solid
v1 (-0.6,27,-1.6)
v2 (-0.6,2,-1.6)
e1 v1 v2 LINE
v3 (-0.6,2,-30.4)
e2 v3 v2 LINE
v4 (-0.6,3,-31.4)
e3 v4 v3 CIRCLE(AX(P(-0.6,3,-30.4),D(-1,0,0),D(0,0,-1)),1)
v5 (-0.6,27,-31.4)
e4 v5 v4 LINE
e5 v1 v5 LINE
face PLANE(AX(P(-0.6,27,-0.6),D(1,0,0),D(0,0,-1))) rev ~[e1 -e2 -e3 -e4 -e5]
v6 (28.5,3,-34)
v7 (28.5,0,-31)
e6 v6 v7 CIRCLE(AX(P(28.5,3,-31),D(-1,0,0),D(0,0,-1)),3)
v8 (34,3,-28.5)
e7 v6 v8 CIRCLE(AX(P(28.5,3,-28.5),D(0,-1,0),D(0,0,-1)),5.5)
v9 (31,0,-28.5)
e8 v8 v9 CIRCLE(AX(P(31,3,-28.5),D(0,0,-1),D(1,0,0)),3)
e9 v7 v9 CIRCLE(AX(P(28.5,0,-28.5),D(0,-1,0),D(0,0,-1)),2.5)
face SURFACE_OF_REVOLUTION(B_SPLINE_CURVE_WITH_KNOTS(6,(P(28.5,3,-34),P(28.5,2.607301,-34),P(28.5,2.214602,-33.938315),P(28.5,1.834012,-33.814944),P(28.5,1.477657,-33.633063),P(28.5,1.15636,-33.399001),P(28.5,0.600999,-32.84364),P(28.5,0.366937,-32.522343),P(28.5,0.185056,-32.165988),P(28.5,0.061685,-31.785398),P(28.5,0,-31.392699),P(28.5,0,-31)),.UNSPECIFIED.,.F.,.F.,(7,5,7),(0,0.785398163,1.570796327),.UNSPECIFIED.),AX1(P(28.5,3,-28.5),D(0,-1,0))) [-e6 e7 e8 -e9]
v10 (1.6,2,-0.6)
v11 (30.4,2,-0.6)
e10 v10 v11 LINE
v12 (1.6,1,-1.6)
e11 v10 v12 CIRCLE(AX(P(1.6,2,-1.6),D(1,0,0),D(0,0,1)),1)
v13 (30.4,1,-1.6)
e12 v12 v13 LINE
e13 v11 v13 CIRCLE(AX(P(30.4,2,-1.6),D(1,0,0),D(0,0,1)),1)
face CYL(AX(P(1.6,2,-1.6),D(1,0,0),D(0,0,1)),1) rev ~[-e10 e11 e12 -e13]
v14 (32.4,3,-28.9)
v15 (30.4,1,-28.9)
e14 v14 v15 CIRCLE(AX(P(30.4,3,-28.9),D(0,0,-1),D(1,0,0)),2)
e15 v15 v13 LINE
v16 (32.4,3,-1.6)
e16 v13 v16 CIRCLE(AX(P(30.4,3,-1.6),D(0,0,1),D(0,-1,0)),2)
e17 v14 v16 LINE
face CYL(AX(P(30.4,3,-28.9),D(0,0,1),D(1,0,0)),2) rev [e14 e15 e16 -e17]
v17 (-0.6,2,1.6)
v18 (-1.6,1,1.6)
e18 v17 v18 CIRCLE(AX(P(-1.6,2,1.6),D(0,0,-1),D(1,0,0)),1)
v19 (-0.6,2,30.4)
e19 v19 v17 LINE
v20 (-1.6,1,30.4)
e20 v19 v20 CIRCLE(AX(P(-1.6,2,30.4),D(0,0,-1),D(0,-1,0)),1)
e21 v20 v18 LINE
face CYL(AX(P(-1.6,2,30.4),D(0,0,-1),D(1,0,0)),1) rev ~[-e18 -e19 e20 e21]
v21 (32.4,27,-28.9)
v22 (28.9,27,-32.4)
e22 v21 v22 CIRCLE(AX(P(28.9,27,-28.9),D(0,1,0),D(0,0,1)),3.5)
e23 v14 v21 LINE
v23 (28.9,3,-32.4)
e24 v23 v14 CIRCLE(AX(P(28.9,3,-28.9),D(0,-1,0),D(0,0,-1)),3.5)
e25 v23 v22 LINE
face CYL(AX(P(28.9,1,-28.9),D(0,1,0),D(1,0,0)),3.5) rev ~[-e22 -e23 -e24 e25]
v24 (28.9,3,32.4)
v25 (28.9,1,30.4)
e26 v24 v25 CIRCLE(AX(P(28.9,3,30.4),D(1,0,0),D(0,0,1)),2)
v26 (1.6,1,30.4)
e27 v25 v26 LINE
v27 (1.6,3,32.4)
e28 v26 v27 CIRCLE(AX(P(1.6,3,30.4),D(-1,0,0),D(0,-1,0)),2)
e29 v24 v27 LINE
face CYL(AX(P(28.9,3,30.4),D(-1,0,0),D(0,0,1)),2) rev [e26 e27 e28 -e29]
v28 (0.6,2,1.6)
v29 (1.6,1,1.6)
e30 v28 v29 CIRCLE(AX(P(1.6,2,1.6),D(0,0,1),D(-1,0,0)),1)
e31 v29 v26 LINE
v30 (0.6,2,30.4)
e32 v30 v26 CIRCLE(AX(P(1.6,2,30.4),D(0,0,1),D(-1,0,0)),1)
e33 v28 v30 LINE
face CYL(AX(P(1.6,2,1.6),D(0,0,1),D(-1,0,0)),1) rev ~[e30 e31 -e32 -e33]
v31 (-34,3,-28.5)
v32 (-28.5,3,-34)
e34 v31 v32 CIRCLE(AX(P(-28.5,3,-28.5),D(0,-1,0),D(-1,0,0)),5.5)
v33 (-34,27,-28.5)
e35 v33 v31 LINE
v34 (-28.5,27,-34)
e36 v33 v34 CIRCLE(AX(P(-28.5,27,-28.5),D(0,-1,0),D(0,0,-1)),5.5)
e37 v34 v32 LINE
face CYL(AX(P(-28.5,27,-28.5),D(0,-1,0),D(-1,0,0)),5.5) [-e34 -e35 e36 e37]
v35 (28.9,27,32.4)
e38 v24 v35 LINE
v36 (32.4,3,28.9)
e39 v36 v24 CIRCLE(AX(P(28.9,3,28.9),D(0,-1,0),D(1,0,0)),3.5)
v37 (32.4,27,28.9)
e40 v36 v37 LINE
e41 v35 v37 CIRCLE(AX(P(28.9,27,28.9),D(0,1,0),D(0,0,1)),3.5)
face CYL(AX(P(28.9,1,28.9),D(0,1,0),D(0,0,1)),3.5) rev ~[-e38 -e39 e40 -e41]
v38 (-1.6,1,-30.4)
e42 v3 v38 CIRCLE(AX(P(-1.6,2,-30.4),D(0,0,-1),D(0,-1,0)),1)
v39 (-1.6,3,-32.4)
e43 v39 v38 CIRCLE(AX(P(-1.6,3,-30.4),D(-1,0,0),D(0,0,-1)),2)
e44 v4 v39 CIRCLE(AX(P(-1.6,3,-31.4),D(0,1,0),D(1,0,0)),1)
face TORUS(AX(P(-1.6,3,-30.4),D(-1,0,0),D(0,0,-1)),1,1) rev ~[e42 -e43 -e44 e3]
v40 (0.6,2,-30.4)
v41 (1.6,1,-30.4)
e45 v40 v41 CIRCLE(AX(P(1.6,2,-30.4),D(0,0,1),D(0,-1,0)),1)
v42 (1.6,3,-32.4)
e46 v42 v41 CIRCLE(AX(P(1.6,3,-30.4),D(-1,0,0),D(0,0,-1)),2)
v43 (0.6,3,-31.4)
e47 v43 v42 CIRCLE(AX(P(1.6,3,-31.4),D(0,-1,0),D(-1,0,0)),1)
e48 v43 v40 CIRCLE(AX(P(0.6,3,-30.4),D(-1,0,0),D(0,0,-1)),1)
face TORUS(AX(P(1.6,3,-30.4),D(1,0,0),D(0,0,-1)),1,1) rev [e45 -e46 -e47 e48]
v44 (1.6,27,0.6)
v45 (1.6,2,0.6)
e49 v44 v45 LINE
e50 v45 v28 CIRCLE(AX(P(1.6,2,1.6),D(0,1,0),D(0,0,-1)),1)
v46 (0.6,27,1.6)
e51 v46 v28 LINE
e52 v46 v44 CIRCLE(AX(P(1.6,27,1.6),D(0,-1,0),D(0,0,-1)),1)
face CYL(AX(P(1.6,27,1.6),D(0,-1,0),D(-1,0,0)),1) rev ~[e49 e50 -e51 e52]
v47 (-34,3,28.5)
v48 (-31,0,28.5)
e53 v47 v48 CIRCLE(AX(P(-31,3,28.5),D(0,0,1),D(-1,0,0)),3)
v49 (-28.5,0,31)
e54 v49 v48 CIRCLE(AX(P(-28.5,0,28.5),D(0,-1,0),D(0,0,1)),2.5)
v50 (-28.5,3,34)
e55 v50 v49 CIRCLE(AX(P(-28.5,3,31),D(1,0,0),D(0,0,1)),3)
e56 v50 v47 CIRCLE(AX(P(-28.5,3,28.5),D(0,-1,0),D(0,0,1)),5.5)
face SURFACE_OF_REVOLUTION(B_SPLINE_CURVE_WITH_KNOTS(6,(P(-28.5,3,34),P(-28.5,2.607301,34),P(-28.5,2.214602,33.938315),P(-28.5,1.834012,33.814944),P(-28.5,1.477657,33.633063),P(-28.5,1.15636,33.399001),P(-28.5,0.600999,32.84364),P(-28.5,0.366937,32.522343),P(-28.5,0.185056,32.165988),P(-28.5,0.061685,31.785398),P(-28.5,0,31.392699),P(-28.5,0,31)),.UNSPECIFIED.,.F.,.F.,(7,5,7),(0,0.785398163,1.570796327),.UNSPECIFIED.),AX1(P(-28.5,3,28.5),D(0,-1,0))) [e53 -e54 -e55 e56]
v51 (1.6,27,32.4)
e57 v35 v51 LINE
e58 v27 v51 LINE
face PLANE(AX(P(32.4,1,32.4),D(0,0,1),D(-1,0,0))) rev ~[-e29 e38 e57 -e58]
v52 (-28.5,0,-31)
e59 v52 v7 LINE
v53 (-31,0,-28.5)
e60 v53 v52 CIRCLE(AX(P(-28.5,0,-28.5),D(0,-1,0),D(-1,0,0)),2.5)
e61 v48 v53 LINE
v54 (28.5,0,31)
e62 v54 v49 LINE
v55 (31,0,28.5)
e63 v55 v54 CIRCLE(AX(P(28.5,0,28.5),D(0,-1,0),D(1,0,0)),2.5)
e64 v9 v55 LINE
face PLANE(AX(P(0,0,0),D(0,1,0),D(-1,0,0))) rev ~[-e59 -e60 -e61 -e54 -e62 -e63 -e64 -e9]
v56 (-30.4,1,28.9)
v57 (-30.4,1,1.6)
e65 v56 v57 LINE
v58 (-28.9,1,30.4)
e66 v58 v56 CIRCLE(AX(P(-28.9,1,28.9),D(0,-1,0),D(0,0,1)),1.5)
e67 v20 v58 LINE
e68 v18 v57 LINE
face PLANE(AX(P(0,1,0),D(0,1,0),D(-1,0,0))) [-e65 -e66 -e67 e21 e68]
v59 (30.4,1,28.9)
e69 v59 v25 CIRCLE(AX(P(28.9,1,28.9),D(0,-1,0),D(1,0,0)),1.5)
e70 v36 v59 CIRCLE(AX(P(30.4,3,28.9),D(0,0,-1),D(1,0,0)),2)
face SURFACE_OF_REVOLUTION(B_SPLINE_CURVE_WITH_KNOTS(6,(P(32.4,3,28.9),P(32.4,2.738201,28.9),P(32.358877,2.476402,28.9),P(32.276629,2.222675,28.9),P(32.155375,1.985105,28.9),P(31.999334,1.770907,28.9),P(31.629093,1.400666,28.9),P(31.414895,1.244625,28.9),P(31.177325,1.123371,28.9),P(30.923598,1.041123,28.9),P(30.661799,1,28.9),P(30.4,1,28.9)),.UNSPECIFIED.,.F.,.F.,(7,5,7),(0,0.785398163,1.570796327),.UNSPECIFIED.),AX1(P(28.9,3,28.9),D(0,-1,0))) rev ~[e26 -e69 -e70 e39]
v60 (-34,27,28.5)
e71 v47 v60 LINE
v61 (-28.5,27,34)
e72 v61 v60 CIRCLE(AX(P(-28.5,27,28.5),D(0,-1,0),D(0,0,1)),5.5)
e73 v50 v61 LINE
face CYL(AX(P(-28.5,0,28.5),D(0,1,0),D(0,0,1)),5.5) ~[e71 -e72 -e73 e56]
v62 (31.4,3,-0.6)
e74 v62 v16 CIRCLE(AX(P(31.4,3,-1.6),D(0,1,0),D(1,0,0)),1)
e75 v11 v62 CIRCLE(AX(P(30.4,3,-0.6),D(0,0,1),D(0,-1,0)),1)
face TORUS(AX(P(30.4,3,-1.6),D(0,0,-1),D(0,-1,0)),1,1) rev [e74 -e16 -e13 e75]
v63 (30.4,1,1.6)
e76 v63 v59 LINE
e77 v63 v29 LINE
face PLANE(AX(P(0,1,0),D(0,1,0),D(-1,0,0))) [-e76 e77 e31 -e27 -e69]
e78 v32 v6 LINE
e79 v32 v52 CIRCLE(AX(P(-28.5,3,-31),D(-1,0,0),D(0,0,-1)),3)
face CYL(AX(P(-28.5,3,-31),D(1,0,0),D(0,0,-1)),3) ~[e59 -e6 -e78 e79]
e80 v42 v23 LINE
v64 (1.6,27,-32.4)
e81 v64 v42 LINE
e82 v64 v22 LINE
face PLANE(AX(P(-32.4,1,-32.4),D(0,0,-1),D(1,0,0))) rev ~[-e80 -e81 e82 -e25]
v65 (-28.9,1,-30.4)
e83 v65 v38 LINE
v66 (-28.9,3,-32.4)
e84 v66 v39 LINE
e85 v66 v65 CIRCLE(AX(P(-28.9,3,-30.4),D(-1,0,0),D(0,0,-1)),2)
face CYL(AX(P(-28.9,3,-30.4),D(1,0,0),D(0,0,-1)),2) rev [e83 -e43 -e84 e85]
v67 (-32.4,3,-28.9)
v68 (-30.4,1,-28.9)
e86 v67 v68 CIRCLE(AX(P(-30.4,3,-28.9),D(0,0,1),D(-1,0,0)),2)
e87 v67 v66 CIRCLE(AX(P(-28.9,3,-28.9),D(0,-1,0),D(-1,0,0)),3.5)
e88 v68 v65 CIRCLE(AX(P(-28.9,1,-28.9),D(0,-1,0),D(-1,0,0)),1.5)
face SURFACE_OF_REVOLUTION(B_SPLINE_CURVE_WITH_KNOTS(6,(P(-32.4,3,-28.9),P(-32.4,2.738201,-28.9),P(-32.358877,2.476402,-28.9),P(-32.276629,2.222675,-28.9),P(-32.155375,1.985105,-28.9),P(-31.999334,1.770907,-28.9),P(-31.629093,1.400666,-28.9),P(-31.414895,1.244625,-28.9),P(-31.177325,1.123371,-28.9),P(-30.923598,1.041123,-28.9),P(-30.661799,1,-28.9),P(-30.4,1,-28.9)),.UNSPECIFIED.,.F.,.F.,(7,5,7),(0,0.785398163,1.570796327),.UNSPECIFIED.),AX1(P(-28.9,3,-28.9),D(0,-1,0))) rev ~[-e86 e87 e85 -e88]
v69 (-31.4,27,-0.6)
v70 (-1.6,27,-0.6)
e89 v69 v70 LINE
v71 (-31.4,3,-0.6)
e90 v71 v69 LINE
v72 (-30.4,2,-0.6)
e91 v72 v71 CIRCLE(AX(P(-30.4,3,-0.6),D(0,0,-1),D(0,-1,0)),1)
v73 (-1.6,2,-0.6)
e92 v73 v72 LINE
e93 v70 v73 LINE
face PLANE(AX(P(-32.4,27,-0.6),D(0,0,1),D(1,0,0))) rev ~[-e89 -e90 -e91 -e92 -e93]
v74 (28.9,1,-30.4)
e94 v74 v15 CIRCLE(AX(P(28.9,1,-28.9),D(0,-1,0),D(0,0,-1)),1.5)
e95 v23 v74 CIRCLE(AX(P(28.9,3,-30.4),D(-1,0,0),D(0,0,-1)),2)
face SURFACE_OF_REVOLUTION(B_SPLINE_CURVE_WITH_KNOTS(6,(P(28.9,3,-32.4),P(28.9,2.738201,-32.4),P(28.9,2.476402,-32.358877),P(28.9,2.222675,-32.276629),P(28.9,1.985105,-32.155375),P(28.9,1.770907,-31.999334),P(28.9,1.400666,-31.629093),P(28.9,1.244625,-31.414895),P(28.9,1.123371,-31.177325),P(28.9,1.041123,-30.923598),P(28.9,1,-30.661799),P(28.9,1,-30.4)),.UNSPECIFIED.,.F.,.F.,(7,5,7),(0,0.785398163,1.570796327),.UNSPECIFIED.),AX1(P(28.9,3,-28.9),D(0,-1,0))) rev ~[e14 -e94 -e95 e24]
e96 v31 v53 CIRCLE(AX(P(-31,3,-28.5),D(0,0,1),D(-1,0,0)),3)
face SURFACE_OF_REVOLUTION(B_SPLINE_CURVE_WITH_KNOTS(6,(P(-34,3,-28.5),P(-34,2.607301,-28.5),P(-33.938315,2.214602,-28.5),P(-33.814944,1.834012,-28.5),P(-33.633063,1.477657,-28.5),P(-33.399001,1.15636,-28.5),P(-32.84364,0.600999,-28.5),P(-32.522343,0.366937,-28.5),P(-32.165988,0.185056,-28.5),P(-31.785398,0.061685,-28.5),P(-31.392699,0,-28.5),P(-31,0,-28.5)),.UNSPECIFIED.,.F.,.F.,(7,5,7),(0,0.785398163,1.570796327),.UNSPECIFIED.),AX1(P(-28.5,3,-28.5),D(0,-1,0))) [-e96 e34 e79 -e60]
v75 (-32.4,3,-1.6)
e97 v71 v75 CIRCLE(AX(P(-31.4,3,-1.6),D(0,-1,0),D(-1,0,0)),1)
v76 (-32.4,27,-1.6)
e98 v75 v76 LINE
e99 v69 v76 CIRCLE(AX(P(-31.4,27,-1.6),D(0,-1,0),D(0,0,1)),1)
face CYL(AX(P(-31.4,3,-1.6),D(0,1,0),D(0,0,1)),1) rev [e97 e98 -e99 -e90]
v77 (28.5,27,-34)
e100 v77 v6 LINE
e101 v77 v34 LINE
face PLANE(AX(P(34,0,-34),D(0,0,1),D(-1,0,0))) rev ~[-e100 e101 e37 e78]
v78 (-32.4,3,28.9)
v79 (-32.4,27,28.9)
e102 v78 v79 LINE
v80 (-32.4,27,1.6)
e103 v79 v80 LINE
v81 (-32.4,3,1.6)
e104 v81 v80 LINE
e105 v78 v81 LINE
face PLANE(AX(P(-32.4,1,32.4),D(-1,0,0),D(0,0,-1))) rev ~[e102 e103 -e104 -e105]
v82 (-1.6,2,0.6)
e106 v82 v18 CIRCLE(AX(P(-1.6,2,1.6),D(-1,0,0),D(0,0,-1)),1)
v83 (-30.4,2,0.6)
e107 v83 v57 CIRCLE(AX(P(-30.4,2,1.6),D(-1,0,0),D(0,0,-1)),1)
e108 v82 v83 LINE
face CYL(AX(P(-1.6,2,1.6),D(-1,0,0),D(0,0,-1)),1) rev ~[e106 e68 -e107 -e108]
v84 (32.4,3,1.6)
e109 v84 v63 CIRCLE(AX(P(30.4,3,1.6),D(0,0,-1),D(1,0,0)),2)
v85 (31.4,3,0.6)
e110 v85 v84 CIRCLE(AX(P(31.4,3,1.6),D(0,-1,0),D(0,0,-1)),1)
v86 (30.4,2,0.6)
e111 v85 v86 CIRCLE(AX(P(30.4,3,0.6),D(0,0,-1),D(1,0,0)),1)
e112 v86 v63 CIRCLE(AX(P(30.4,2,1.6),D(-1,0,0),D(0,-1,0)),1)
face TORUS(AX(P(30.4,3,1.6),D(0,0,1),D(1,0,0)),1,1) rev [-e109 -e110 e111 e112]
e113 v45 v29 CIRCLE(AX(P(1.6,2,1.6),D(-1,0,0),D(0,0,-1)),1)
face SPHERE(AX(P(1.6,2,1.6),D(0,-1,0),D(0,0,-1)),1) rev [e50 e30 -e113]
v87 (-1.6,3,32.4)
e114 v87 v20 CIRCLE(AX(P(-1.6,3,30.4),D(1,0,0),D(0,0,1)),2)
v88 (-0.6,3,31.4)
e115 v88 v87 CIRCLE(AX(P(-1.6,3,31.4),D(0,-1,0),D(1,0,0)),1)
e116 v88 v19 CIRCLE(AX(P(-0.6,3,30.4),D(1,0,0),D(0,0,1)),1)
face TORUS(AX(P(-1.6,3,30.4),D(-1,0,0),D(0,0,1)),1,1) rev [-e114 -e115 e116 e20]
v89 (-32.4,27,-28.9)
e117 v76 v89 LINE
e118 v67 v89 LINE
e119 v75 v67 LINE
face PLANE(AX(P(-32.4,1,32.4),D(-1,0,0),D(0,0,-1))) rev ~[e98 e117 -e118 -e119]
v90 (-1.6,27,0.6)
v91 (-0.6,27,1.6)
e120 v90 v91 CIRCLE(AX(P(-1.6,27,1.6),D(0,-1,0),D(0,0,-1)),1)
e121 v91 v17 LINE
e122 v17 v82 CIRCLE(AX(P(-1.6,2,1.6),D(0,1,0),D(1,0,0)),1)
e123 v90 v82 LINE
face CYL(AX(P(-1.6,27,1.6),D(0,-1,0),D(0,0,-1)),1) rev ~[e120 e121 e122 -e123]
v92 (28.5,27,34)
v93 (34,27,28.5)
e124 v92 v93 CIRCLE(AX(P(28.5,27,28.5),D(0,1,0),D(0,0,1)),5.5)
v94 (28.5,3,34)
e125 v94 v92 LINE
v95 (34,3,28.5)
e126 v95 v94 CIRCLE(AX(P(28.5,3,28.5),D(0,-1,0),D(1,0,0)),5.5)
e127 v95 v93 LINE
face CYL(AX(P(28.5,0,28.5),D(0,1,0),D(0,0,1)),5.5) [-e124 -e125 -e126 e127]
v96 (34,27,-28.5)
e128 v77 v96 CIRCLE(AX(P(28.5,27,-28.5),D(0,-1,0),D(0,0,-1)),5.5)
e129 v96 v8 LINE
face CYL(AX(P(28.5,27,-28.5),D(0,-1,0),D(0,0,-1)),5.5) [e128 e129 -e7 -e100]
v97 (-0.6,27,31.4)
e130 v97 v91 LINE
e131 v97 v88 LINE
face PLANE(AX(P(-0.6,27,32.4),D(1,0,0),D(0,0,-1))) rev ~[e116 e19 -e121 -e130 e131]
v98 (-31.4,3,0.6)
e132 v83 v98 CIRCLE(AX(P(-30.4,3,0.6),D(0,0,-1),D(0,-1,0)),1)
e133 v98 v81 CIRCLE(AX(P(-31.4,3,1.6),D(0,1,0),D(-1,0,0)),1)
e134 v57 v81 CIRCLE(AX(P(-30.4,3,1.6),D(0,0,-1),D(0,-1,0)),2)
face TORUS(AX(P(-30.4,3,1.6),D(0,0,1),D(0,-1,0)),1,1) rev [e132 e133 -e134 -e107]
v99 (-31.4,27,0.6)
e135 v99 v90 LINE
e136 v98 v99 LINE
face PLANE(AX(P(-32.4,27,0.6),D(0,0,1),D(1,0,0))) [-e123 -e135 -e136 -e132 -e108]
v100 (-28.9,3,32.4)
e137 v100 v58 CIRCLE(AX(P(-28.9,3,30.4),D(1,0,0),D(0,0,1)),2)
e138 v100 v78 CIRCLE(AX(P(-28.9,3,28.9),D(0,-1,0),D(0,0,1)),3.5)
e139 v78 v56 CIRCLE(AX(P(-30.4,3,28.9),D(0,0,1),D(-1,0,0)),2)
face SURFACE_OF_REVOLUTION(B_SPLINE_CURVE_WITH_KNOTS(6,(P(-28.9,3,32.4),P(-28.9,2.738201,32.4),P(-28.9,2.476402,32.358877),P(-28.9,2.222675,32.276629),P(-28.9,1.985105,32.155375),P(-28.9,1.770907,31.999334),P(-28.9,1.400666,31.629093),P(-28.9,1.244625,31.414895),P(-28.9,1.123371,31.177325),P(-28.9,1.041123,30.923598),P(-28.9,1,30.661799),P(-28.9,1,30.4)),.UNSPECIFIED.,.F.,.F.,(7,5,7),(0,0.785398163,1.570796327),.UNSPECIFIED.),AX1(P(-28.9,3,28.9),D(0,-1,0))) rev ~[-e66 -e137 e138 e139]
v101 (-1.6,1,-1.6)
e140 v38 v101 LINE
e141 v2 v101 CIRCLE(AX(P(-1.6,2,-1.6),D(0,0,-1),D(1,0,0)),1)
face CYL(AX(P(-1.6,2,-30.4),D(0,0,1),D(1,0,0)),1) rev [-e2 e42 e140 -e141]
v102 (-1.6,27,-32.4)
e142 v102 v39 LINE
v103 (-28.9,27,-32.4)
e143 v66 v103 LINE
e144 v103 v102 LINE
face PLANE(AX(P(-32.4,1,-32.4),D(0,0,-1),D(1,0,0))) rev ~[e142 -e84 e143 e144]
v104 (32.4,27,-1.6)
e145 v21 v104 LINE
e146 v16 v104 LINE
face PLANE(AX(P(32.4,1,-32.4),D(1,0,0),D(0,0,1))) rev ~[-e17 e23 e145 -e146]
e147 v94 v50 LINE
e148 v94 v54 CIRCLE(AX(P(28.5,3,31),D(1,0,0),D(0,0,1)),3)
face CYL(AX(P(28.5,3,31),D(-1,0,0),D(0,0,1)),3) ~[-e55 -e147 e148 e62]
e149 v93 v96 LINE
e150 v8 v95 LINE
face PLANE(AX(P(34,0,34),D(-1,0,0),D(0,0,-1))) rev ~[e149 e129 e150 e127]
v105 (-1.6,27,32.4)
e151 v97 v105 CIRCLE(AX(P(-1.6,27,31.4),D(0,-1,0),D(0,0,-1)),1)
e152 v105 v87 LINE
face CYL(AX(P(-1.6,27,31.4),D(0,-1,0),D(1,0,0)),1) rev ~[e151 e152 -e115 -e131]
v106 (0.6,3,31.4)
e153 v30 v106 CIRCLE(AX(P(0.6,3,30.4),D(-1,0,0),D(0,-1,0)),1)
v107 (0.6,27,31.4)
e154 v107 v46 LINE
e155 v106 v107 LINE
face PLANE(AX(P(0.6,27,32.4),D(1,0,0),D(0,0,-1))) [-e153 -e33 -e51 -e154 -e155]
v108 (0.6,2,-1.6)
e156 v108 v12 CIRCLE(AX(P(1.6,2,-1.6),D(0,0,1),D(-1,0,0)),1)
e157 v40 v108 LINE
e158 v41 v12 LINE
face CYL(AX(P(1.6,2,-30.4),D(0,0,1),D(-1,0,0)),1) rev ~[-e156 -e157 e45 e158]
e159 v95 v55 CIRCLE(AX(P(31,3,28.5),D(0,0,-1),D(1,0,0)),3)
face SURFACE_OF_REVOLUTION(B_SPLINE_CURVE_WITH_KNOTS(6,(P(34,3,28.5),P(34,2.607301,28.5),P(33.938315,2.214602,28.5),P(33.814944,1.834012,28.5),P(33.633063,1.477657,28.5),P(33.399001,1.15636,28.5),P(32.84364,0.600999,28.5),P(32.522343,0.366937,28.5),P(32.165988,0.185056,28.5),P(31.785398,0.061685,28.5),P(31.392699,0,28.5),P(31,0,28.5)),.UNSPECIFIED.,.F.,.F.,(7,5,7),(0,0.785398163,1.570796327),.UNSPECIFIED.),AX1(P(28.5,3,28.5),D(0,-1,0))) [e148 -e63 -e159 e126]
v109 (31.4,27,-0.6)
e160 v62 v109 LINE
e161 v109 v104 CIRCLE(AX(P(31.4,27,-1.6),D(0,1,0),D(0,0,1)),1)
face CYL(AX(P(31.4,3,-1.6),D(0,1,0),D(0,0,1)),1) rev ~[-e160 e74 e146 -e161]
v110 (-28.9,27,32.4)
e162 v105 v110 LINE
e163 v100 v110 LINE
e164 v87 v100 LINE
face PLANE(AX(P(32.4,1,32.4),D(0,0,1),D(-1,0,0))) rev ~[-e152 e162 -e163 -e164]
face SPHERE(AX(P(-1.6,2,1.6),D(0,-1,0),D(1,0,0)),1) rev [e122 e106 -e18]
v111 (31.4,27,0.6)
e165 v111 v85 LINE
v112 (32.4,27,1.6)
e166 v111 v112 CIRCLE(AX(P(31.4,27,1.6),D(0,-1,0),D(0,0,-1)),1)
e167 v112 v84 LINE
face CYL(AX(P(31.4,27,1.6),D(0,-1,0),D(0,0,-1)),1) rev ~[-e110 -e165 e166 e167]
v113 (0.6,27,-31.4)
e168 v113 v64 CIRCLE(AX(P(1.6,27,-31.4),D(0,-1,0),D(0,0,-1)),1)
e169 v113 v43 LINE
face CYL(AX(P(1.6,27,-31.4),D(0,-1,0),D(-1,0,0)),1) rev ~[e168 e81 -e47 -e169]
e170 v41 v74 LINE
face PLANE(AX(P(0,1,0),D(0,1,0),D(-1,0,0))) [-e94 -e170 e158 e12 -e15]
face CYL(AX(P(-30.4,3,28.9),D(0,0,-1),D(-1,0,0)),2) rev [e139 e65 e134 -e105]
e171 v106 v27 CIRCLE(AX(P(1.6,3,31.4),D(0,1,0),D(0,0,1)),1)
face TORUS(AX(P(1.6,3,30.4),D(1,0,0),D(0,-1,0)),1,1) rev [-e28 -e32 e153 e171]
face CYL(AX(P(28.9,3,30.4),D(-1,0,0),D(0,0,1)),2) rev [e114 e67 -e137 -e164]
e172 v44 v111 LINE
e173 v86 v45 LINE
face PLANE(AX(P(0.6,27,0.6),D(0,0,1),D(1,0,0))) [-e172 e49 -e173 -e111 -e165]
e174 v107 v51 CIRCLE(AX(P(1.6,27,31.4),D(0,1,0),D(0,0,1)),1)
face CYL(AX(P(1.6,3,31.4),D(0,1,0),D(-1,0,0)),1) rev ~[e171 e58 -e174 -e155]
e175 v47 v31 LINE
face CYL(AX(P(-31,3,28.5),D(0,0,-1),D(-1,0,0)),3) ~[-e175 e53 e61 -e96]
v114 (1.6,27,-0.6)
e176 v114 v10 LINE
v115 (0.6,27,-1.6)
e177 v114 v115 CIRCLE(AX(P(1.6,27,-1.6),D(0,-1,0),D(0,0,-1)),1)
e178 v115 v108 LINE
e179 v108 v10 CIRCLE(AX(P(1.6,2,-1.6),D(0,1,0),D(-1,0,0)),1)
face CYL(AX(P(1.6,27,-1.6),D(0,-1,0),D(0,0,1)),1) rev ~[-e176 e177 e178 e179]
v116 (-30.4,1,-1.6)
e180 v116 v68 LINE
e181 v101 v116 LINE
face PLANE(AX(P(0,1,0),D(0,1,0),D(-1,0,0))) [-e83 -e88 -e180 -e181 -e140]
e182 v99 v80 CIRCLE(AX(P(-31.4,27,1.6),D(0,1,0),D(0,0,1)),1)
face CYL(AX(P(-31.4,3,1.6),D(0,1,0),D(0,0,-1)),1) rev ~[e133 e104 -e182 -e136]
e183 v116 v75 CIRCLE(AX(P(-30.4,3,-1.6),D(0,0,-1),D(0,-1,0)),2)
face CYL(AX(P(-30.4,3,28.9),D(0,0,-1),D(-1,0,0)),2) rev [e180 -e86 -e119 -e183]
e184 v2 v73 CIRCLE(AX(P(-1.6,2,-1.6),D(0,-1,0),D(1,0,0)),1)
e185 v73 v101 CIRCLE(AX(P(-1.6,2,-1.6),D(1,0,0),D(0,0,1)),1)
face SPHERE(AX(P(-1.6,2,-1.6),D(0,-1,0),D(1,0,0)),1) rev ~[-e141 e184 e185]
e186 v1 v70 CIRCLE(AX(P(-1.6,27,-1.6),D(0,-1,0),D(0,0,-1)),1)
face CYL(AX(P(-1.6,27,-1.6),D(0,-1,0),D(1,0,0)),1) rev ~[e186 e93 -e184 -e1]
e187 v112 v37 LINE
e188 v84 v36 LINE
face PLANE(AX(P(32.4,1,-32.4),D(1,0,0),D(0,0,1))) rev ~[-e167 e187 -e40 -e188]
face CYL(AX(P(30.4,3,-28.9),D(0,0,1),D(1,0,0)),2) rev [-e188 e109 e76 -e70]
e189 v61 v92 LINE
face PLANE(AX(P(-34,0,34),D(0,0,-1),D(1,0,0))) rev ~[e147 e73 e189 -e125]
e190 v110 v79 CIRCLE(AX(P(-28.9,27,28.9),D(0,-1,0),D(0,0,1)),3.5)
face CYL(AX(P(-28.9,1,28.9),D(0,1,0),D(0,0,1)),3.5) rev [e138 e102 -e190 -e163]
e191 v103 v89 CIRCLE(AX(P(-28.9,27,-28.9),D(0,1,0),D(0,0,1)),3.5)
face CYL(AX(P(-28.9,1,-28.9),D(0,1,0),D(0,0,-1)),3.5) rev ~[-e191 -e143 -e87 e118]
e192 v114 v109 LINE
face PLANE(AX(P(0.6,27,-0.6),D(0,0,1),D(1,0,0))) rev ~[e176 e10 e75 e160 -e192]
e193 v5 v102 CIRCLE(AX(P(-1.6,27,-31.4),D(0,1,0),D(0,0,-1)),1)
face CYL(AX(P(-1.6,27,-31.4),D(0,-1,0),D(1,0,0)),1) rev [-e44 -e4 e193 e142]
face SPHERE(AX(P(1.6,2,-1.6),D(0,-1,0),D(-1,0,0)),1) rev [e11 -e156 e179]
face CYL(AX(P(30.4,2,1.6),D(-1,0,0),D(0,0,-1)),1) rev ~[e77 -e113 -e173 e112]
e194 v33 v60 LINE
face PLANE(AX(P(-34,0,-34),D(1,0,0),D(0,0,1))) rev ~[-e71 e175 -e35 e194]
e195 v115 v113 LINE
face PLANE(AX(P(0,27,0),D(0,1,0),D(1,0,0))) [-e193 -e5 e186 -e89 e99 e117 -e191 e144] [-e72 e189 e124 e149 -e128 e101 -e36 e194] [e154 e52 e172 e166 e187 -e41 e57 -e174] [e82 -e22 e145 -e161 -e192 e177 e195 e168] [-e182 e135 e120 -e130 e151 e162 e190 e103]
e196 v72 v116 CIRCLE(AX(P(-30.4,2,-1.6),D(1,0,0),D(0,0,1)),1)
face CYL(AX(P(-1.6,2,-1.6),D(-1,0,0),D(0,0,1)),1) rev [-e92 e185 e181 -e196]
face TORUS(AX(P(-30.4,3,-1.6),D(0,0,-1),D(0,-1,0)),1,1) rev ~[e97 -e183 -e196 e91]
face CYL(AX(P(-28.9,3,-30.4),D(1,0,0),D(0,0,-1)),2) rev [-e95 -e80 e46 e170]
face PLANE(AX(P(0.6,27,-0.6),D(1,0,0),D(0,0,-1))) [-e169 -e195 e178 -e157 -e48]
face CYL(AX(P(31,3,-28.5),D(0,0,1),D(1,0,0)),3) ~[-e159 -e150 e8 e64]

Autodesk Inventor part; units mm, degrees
ref_plane "YZ Plane" through (0, 0, 0) normal (1, 0, 0) x (0, 1, 0)
ref_plane "XZ Plane" through (0, 0, 0) normal (0, 1, 0) x (-1, 0, 0)
ref_plane "XY Plane" through (0, 0, 0) normal (0, 0, 1) x (1, 0, 0)
sketch "Sketch1" plane through (0, 0, 0) normal (0, 1, 0) x (-1, 0, 0)
  line L0 (34, 34) -> (-34, 34)
  line L1 (-34, 34) -> (-34, -34)
  line L2 (-34, -34) -> (34, -34)
  line L3 (34, -34) -> (34, 34)
  line L4 (34, 34) -> (-34, -34) construction
  line L5 (-34, 34) -> (34, -34) construction
  point P0 (0, 0)
  dimension "d0" = 68
  dimension "d1" = 68
extrude "Extrusion1" add sketch "Sketch1" along normal blind 1
sketch "Sketch2" plane through (0, 1, 0) normal (0, 1, 0) x (1, 0, 0)
  line L0 (34, -34) -> (34, 34) projected
  line L1 (34, 34) -> (-34, 34) projected
  line L2 (-34, 34) -> (-34, -34) projected
  line L3 (-34, -34) -> (34, -34) projected
  line L4 (-32.4, -32.4) -> (-32.4, 32.4)
  line L5 (-32.4, 32.4) -> (32.4, 32.4)
  line L6 (32.4, 32.4) -> (32.4, -32.4)
  line L7 (32.4, -32.4) -> (-32.4, -32.4)
  point P0 (0, 0)
  dimension "d4" = 1.6
extrude "Extrusion2" add sketch "Sketch2" along normal blind 26
fillet "Fillet1" radius 3.5 4 edges at (-32.4, 14, 32.4) (-32.4, 14, -32.4) (32.4, 14, -32.4) (32.4, 14, 32.4)
fillet "Fillet2" radius 5.5 4 edges at (34, 13.5, 34) (34, 13.5, -34) (-34, 13.5, -34) (-34, 13.5, 34)
fillet "Fillet3" radius 2 8 edges at (-31.3749, 1, 31.3749) (0, 1, 32.4) (31.3749, 1, 31.3749) (32.4, 1, 0) (31.3749, 1, -31.3749) (0, 1, -32.4) (-31.3749, 1, -31.3749) (-32.4, 1, 0)
fillet "Fillet4" radius 3 8 edges at (-32.3891, 0, 32.3891) (0, 0, 34) (32.3891, 0, 32.3891) (34, 0, 0) (32.3891, 0, -32.3891) (0, 0, -34) (-32.3891, 0, -32.3891) (-34, 0, 0)
sketch "Sketch3" plane through (0, 27, 0) normal (0, 1, 0) x (1, 0, 0)
  arc A0 (-34, -28.5) -> (-28.5, -34) centre (-28.5, -28.5) ccw projected
  line L0 (-28.5, -34) -> (28.5, -34) projected
  arc A1 (28.5, -34) -> (34, -28.5) centre (28.5, -28.5) ccw projected
  line L1 (34, -28.5) -> (34, 28.5) projected
  arc A2 (34, 28.5) -> (28.5, 34) centre (28.5, 28.5) ccw projected
  line L2 (28.5, 34) -> (-28.5, 34) projected
  arc A3 (-28.5, 34) -> (-34, 28.5) centre (-28.5, 28.5) ccw projected
  line L3 (-34, 28.5) -> (-34, -28.5) projected
  line L4 (-32.4, -28.9) -> (-32.4, 28.9) projected
  arc A4 (-28.9, 32.4) -> (-32.4, 28.9) centre (-28.9, 28.9) ccw projected
  line L5 (-28.9, 32.4) -> (28.9, 32.4) projected
  arc A5 (32.4, 28.9) -> (28.9, 32.4) centre (28.9, 28.9) ccw projected
  line L6 (32.4, 28.9) -> (32.4, -28.9) projected
  arc A6 (28.9, -32.4) -> (32.4, -28.9) centre (28.9, -28.9) ccw projected
  line L7 (28.9, -32.4) -> (-28.9, -32.4) projected
  arc A7 (-32.4, -28.9) -> (-28.9, -32.4) centre (-28.9, -28.9) ccw projected
  line L8 (-34, 28.5) -> (-34, -28.5) projected
  line L9 (-34, 0) -> (34, 0)
  line L10 (34, -28.5) -> (34, 28.5) projected
  line L11 (-28.5, -34) -> (28.5, -34) projected
  line L12 (0, -34) -> (0, 34)
  line L13 (-0.6, -34) -> (-0.6, 34)
  line L14 (0.6, -34) -> (0.6, 34)
  line L15 (-34, 0.6) -> (34, 0.6)
  line L16 (-34, -0.6) -> (34, -0.6)
  point P0 (0, 0)
  point P1 (-0.6, 0.6)
  point P2 (-32.4, 0.6)
  point P3 (-32.4, -0.6)
  point P4 (-0.6, -0.6)
  point P5 (-0.6, -32.4)
  point P6 (0.6, -32.4)
  point P7 (0.6, -0.6)
  point P8 (32.4, -0.6)
  point P9 (32.4, 0.6)
  point P10 (0.6, 0.6)
  point P11 (0.6, 32.4)
  point P12 (-0.6, 32.4)
  dimension "d11" = 0.6
  dimension "d12" = 0.6
  dimension "d13" = 0.6
  dimension "d14" = 0.6
extrude "Extrusion3" add sketch "Sketch3" against normal up to surface (26 mm away) contours L4 L9 L13 L16 | L13 L16 L12 L7 | L4 L15 L13 L9 | L13 L9 L12 L16 | L12 L16 L14 L7 | L13 L15 L12 L9 | L12 L9 L14 L16 | L13 L5 L12 L15 | L12 L15 L14 L9 | L14 L9 L6 L16 | L12 L5 L14 L15 | L14 L15 L6 L9
fillet "Fillet5" radius 1 4 edges at (0.6, 14, 0.6) (-0.6, 14, 0.6) (0.6, 14, -0.6) (-0.6, 14, -0.6)
fillet "Fillet6" radius 1 28 edges at (0.6, 1.5858, 31.8142) (0.6, 1, 16) (0.8929, 1, 0.8929) (16, 1, 0.6) (31.8142, 1.5858, 0.6) (32.4, 15, 0.6) (0.6, 15, 32.4) (31.8142, 1.5858, -0.6) (32.4, 15, -0.6) (0.8929, 1, -0.8929) (0.6, 1, -16) (0.6, 1.5858, -31.8142) (0.6, 15, -32.4) (16, 1, -0.6) (-0.8929, 1, -0.8929) (-0.6, 1, -16) (-0.6, 1.5858, -31.8142) (-0.6, 15, -32.4) (-31.8142, 1.5858, -0.6) (-32.4, 15, -0.6) (-16, 1, -0.6) (-31.8142, 1.5858, 0.6) (-32.4, 15, 0.6) (-0.8929, 1, 0.8929) (-0.6, 1, 16) (-0.6, 1.5858, 31.8142) (-0.6, 15, 32.4) (-16, 1, 0.6)
